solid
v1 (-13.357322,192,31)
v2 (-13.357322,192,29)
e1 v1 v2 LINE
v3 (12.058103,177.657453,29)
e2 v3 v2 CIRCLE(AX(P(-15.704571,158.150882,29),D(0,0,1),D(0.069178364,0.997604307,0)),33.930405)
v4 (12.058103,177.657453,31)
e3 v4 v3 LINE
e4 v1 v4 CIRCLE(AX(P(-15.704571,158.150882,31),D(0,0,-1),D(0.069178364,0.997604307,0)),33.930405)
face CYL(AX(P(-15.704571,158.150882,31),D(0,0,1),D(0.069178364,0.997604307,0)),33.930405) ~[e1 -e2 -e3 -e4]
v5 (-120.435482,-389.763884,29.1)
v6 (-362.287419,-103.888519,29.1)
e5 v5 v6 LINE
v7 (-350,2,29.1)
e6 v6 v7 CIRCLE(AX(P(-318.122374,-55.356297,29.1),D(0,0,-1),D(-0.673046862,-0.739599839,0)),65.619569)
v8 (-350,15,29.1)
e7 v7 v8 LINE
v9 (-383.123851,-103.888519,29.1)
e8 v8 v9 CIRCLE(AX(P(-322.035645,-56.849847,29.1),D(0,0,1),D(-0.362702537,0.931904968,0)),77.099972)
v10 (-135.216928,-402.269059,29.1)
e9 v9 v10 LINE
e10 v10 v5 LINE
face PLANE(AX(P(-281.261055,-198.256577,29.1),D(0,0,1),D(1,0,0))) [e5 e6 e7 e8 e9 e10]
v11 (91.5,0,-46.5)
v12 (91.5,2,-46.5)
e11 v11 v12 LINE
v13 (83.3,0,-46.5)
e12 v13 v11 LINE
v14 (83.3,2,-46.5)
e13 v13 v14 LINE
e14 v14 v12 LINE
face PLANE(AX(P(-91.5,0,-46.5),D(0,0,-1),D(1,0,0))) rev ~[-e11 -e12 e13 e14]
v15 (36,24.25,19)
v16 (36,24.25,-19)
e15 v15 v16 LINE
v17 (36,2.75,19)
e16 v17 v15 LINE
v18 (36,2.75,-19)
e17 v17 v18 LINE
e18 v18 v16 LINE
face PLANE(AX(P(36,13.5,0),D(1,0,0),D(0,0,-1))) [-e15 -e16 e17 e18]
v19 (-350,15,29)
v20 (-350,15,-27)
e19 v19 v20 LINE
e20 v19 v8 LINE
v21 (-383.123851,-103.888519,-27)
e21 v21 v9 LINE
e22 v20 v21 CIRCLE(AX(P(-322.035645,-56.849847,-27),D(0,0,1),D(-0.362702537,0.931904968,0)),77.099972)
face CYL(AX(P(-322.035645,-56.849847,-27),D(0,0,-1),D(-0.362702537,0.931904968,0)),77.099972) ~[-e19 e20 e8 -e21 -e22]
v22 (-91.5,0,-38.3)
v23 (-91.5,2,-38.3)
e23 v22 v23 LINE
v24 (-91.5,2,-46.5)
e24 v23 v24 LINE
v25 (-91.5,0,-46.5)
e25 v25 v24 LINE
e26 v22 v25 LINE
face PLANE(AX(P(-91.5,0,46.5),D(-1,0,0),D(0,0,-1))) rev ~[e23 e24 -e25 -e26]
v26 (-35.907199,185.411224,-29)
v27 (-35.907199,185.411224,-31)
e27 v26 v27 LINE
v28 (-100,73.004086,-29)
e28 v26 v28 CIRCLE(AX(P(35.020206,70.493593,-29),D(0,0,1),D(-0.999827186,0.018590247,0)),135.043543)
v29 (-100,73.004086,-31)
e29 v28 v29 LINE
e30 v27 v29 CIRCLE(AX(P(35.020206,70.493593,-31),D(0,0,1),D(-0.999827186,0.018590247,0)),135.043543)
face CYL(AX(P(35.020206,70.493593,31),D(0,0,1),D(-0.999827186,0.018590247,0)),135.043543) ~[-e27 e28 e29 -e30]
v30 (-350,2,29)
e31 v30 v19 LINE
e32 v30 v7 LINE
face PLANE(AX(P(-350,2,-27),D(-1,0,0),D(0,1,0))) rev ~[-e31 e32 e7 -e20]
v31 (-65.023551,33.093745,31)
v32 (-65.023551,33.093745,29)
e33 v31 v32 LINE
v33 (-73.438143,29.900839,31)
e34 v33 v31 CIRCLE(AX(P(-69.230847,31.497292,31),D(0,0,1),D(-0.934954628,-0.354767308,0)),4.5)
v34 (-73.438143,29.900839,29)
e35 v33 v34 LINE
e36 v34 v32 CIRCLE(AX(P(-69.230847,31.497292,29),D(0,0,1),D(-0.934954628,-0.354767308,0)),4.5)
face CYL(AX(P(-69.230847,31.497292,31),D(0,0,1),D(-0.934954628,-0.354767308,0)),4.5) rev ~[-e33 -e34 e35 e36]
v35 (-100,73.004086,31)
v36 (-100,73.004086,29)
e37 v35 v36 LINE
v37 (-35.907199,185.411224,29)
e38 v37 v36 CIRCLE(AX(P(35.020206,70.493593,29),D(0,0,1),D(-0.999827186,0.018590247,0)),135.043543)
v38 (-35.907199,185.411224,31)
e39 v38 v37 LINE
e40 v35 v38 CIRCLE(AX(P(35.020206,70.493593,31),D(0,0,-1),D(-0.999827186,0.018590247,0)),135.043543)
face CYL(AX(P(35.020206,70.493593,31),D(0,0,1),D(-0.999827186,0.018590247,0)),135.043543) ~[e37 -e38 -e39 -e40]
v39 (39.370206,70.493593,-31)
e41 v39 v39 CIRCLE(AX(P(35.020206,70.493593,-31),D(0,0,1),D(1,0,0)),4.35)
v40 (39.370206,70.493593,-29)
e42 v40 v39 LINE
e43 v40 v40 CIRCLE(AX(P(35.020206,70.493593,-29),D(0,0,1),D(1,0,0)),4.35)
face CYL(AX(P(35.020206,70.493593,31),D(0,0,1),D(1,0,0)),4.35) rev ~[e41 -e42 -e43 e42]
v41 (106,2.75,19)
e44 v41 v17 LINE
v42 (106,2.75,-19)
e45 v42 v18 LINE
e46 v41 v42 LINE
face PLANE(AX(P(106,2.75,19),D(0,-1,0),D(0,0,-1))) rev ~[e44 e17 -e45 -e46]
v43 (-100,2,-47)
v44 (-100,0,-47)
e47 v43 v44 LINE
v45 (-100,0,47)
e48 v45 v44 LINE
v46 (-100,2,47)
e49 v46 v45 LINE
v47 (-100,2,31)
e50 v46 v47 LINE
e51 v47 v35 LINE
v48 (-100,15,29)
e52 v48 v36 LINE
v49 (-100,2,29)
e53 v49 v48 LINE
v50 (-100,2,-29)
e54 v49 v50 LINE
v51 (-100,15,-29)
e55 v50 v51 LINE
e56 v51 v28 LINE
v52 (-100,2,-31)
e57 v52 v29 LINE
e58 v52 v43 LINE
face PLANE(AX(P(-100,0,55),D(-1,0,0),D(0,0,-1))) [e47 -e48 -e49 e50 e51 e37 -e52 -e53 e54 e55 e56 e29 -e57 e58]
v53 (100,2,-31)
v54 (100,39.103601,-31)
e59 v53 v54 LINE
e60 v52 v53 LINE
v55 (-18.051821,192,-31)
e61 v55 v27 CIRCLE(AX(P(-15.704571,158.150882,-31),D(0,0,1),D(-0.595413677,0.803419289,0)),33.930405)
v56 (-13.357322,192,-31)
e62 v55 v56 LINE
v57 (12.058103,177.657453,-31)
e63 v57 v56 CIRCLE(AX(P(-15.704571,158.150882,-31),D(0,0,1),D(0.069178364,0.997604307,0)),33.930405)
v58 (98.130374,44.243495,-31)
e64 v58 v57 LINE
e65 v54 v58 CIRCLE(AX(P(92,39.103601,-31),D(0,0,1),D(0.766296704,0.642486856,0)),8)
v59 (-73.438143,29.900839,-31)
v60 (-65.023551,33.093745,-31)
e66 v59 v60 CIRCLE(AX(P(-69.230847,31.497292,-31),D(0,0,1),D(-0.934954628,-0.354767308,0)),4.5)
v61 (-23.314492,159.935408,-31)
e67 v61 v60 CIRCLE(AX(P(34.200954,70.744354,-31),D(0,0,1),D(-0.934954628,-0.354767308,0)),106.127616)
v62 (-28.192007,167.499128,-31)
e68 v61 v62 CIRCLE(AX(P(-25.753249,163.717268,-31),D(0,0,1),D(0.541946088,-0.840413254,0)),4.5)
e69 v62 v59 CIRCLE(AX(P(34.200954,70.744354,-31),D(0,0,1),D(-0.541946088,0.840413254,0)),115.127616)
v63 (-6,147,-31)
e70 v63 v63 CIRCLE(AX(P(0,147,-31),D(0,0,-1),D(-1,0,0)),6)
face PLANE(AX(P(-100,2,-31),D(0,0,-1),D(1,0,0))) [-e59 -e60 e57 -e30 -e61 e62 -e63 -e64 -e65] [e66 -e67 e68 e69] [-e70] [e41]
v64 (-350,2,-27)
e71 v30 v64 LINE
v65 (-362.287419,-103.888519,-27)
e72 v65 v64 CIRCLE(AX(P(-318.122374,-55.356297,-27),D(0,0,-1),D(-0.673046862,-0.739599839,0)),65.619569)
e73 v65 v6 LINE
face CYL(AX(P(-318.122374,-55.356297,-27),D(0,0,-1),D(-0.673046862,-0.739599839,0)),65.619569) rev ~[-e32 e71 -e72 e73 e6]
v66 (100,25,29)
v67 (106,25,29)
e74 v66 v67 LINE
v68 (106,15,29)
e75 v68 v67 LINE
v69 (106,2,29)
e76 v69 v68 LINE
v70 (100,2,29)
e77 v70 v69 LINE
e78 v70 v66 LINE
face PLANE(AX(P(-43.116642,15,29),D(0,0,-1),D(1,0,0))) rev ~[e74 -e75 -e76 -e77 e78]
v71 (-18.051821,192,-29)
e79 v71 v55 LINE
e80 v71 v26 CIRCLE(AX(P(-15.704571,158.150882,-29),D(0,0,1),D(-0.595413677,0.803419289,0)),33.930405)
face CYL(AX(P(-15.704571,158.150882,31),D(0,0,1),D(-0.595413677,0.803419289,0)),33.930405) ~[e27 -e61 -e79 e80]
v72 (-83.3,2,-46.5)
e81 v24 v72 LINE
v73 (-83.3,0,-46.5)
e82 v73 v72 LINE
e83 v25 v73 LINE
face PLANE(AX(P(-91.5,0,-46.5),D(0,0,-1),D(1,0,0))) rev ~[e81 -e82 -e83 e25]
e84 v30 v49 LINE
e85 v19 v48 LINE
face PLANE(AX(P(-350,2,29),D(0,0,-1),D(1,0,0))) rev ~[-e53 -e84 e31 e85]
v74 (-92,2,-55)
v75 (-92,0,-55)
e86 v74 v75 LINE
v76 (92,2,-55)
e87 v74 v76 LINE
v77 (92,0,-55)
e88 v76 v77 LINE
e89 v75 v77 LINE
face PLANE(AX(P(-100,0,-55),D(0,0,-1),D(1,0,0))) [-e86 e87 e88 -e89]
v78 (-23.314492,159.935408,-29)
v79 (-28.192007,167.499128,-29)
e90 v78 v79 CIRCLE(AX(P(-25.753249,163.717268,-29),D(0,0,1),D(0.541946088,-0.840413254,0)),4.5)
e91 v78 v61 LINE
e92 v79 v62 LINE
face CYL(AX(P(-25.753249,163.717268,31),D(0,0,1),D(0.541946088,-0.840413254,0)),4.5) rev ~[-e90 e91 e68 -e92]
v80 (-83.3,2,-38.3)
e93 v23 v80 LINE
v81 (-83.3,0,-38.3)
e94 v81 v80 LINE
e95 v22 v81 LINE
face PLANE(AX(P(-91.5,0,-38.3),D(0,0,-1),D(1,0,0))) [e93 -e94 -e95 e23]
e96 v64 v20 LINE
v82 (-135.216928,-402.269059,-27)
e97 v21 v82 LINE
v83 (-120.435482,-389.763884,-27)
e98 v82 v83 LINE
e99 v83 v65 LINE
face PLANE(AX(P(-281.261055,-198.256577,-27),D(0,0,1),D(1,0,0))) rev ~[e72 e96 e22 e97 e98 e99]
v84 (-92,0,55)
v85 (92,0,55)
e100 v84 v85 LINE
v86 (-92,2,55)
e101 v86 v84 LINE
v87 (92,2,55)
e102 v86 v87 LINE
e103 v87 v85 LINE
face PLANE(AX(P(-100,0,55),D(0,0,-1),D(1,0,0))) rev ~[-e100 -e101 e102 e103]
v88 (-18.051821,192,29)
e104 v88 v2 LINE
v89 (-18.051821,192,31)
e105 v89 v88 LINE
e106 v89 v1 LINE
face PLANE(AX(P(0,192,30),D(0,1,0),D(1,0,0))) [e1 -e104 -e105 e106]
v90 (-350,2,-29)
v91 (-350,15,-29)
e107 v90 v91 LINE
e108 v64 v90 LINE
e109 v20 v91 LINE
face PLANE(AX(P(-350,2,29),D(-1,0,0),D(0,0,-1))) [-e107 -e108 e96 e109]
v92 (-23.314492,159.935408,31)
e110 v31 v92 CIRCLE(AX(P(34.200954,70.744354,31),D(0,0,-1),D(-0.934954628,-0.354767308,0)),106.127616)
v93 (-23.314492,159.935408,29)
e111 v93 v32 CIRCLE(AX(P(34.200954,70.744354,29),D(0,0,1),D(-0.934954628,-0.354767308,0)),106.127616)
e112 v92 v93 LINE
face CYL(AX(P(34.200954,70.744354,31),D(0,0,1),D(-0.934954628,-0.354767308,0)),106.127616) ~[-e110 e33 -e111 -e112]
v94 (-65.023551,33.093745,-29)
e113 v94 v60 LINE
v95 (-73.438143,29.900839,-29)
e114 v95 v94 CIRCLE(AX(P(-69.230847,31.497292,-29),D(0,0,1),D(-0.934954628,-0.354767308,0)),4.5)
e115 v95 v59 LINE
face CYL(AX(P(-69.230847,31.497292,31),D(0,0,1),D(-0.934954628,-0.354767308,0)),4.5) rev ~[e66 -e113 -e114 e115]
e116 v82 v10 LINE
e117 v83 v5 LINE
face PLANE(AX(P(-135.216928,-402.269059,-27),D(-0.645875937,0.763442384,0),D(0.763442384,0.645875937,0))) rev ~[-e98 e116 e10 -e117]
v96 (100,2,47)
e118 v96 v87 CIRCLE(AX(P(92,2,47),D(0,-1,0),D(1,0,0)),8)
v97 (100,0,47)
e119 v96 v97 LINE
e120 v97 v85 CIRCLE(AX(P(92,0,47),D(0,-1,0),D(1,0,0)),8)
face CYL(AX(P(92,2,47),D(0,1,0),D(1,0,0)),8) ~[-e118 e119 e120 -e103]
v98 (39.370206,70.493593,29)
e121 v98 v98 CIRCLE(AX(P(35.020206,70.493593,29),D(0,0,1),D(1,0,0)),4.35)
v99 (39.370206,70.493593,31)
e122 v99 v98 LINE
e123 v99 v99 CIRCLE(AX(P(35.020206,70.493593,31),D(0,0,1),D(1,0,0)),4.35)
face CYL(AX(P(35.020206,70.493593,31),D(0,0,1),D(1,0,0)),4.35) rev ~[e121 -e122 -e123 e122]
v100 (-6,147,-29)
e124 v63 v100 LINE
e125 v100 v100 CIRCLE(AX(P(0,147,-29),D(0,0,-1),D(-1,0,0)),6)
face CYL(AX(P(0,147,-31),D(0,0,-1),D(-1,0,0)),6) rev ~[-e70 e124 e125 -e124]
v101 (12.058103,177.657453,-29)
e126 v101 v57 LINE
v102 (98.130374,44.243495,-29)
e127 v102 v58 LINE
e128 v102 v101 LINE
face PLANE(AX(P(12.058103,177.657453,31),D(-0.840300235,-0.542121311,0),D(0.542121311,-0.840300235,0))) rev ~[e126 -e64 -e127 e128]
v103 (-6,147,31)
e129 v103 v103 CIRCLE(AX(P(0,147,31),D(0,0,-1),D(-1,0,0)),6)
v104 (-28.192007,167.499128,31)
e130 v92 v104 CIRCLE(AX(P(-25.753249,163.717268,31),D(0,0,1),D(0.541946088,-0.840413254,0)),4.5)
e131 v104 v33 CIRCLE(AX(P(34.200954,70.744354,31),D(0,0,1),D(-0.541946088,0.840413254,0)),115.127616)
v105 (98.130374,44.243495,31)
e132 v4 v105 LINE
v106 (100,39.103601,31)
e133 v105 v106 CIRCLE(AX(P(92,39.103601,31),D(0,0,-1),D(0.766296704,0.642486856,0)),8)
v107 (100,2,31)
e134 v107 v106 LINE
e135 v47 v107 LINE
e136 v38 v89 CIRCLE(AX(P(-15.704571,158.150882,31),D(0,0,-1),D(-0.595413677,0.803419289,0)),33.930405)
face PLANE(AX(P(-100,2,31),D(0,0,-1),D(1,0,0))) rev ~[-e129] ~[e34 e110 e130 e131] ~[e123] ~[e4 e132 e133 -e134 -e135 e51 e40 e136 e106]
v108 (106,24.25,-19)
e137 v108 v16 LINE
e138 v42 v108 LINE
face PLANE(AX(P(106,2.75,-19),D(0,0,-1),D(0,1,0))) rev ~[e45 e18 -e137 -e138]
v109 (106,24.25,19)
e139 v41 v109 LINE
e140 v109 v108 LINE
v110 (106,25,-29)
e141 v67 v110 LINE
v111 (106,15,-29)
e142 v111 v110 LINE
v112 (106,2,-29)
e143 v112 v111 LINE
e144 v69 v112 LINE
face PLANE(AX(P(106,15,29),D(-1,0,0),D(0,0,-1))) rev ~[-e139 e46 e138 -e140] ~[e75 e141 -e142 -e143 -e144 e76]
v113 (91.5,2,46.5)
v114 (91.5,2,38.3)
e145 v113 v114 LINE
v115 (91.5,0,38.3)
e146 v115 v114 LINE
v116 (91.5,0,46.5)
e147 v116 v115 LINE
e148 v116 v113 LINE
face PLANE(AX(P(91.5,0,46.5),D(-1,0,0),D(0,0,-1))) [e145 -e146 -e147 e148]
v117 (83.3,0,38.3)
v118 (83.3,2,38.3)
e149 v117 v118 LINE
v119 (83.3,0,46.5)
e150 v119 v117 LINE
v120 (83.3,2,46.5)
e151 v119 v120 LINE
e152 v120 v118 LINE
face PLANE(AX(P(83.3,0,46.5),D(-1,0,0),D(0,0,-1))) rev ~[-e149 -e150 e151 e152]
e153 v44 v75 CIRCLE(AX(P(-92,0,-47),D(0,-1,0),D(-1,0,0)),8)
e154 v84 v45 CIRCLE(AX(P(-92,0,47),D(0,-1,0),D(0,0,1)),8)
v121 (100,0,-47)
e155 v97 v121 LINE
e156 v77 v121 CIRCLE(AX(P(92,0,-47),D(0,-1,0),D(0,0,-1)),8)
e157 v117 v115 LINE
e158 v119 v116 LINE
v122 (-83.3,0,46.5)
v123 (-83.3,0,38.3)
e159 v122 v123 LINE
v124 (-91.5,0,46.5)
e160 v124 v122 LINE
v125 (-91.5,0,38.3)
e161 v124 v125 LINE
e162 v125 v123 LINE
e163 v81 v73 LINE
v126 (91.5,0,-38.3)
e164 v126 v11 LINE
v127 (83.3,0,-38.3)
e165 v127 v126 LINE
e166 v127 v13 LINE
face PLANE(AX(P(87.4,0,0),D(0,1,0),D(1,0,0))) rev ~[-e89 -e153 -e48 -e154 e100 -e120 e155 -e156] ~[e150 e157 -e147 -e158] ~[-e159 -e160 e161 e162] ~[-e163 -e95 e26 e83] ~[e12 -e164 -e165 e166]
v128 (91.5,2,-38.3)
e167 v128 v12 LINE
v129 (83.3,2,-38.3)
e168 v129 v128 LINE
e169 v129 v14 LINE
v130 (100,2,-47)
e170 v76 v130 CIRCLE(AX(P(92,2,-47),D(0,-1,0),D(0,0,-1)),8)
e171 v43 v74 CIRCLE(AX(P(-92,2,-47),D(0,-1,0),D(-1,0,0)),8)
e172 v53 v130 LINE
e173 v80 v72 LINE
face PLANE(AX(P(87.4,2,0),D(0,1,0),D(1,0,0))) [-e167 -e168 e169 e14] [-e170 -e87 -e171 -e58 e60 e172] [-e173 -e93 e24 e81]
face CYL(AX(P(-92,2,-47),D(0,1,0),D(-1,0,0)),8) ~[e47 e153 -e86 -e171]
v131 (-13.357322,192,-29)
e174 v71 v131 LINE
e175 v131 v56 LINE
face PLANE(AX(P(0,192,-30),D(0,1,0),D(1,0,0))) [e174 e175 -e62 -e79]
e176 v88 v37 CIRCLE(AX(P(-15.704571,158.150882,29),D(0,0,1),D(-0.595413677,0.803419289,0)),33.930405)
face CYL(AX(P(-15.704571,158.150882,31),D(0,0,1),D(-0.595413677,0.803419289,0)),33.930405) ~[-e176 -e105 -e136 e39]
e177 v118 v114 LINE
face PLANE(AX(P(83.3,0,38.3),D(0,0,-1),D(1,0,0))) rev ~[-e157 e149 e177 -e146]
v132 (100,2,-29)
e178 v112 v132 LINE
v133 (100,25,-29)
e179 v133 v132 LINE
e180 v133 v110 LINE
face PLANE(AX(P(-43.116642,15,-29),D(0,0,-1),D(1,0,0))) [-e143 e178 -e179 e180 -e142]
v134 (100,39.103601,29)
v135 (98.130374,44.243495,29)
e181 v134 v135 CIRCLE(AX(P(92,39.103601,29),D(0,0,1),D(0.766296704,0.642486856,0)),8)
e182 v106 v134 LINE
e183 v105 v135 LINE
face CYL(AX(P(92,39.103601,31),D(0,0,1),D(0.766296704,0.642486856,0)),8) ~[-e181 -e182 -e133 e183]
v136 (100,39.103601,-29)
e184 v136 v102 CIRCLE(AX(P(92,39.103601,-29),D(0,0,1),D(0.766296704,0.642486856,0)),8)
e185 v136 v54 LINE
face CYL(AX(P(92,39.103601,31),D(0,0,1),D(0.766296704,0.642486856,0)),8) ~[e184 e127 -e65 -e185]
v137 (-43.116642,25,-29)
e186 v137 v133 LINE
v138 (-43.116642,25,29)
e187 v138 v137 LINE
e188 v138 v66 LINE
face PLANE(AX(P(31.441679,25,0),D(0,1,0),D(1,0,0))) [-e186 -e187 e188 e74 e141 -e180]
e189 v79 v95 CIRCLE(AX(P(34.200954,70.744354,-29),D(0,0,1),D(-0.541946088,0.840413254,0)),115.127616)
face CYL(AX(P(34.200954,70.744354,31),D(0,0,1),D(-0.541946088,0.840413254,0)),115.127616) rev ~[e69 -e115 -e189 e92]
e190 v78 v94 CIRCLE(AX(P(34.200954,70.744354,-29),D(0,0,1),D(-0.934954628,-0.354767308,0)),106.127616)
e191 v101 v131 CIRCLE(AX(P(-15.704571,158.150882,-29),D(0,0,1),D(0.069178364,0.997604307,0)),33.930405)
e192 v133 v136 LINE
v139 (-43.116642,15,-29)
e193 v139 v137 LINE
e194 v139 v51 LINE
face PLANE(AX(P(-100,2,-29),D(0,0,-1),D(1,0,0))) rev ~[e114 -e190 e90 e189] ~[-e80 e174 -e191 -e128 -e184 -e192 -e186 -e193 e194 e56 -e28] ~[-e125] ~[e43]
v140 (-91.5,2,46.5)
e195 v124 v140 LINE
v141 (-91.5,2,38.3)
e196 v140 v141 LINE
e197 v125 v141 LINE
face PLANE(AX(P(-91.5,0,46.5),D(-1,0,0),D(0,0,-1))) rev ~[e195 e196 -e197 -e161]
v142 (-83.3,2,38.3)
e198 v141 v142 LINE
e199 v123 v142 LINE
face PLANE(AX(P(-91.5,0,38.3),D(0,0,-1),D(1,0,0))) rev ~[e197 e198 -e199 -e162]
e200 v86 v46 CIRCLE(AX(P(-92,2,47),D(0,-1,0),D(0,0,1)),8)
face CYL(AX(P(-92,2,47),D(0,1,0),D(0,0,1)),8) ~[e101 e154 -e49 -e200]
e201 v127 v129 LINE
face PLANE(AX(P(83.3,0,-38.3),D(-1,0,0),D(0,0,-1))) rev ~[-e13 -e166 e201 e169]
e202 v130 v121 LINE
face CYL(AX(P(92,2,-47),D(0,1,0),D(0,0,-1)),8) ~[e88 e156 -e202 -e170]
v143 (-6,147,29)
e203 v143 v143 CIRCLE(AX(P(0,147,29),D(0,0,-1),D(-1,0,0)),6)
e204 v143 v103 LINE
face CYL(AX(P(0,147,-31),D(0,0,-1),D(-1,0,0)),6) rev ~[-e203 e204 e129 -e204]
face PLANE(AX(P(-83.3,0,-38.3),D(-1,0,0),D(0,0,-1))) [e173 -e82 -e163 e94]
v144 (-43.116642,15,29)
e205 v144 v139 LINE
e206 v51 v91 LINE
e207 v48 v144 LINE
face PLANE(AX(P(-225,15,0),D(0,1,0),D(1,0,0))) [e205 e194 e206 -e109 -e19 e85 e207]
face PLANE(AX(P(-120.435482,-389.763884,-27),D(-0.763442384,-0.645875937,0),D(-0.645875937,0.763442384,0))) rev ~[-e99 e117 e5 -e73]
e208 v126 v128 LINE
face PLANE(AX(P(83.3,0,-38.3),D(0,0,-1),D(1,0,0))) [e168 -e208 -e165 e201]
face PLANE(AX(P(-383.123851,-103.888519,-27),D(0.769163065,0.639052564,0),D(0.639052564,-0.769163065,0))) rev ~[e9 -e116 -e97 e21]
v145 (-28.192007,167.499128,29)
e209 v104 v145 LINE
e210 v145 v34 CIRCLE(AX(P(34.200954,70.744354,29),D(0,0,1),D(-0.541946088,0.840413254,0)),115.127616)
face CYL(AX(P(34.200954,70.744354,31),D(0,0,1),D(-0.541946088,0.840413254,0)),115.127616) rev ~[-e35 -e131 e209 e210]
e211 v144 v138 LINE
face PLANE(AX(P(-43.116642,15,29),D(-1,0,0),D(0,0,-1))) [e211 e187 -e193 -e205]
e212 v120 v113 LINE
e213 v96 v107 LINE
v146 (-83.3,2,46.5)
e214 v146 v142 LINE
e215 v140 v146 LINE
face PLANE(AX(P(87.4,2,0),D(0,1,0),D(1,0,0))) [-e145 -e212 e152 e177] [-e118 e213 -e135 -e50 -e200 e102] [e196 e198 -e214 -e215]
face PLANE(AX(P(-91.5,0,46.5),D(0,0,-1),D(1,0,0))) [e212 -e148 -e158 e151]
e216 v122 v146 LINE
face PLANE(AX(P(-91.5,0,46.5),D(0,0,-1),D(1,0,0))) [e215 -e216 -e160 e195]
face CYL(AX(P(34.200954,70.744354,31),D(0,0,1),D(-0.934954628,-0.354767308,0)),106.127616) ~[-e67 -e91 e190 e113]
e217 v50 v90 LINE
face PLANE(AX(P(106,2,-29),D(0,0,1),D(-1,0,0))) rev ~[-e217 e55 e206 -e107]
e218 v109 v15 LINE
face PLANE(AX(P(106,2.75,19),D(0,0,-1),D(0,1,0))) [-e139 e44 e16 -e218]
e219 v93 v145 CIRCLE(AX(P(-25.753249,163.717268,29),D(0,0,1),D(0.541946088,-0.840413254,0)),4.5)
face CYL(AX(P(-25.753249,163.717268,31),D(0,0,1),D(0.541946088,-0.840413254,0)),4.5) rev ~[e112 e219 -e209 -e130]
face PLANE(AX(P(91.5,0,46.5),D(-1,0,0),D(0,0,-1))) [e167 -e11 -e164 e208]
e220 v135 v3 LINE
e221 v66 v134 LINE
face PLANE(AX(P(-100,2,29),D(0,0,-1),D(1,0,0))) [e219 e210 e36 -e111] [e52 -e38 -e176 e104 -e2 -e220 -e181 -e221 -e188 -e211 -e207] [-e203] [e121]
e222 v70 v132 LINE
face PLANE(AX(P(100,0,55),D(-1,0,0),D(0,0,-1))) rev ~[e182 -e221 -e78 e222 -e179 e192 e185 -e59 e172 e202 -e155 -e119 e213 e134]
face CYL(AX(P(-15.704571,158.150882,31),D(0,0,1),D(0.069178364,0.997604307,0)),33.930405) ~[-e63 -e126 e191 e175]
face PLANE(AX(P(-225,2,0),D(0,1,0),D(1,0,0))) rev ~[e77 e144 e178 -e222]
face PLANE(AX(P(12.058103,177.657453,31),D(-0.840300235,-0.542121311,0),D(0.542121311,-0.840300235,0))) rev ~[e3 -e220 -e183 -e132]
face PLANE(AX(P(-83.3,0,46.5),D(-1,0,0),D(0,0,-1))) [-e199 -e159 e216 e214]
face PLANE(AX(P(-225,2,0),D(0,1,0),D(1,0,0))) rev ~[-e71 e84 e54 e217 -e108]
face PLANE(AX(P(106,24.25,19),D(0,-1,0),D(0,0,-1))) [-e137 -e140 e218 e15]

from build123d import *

# Parameters (mm, degrees)
CROQUIS1_W                   = 200
CROQUIS1_H                   = 110
CROQUIS1_W_2                 = 183
CROQUIS1_H_2                 = 93
CROQUIS1_W_3                 = 166.6
CROQUIS1_H_3                 = 8.2
CROQUIS1_H_4                 = 76.6
CROQUIS1_W_4                 = 8.2
SALIENTE_EXTRUIR1_DEPTH      = 2
CORTAR_EXTRUIR1_DEPTH        = 2
CROQUIS3_W                   = 200
CROQUIS3_H                   = 2
SALIENTE_EXTRUIR2_DEPTH      = 190
CROQUIS4_R                   = 4.35
CORTAR_EXTRUIR2_DEPTH        = 81
CROQUIS5_W                   = 250
CROQUIS5_H                   = 58
CROQUIS5_W_2                 = 200
CROQUIS5_W_3                 = 6
SALIENTE_EXTRUIR3_DEPTH      = 13
SALIENTE_EXTRUIR4_DEPTH      = 0.1
SALIENTE_EXTRUIR4_DEPTH_BACK = 56
CROQUIS7_R                   = 6
CORTAR_EXTRUIR3_DEPTH        = 80.1
CROQUIS10_W                  = 149.116642103
CROQUIS10_H                  = 58
SALIENTE_EXTRUIR5_DEPTH      = 10
CROQUIS11_W                  = 38
CROQUIS11_H                  = 21.5
CORTAR_EXTRUIR4_DEPTH        = 70


with BuildPart() as part:
    # Croquis1 → Saliente-Extruir1 (new body)
    # profile 1 of 6: a face of its own
    with BuildSketch(Plane(origin=(0, 0, 0), x_dir=(1, 0, 0), z_dir=(0, 1, 0))):
        Rectangle(CROQUIS1_W, CROQUIS1_H)
        Rectangle(CROQUIS1_W_2, CROQUIS1_H_2, mode=Mode.SUBTRACT)
    # profile 2 of 6: a face of its own
    with BuildSketch(Plane(origin=(0, 0, 0), x_dir=(1, 0, 0), z_dir=(0, 1, 0))):
        with Locations((0, 42.4)):
            Rectangle(CROQUIS1_W_3, CROQUIS1_H_3)
    # profile 3 of 6: a face of its own
    with BuildSketch(Plane(origin=(0, 0, 0), x_dir=(1, 0, 0), z_dir=(0, 1, 0))):
        Rectangle(CROQUIS1_W_3, CROQUIS1_H_4)
    # profile 4 of 6: a face of its own
    with BuildSketch(Plane(origin=(0, 0, 0), x_dir=(1, 0, 0), z_dir=(0, 1, 0))):
        with Locations((-87.4, 0)):
            Rectangle(CROQUIS1_W_4, CROQUIS1_H_4)
    # profile 5 of 6: a face of its own
    with BuildSketch(Plane(origin=(0, 0, 0), x_dir=(1, 0, 0), z_dir=(0, 1, 0))):
        with Locations((0, -42.4)):
            Rectangle(CROQUIS1_W_3, CROQUIS1_H_3)
    # profile 6 of 6: a face of its own
    with BuildSketch(Plane(origin=(0, 0, 0), x_dir=(1, 0, 0), z_dir=(0, 1, 0))):
        with Locations((87.4, 0)):
            Rectangle(CROQUIS1_W_4, CROQUIS1_H_4)
    extrude(amount=SALIENTE_EXTRUIR1_DEPTH)

    # Croquis2 → Cortar-Extruir1 (cut)
    with BuildSketch(Plane(origin=(0, 2, 0), x_dir=(1, 0, 0), z_dir=(0, 1, 0))):
        with BuildLine():
            ThreePointArc((-100, 47), (-97.656854249, 52.656854249), (-92, 55))
            Line((-92, 55), (-100, 55))
            Line((-100, 55), (-100, 47))
        make_face()
        with BuildLine():
            ThreePointArc((-92, -55), (-97.656854249, -52.656854249), (-100, -47))
            Line((-100, -47), (-100, -55))
            Line((-100, -55), (-92, -55))
        make_face()
        with BuildLine():
            Line((100, -55), (100, -47))
            ThreePointArc((100, -47), (97.656854249, -52.656854249), (92, -55))
            Line((92, -55), (100, -55))
        make_face()
        with BuildLine():
            Line((100, 55), (92, 55))
            ThreePointArc((92, 55), (97.656854249, 52.656854249), (100, 47))
            Line((100, 47), (100, 55))
        make_face()
    extrude(amount=-CORTAR_EXTRUIR1_DEPTH, mode=Mode.SUBTRACT)

    # Croquis3 → Saliente-Extruir2 (add)
    with BuildSketch(Plane(origin=(0, 2, 0), x_dir=(1, 0, 0), z_dir=(0, 1, 0))):
        with Locations((0, -30)):
            Rectangle(CROQUIS3_W, CROQUIS3_H)
        with Locations((0, 30)):
            Rectangle(CROQUIS3_W, CROQUIS3_H)
    extrude(amount=SALIENTE_EXTRUIR2_DEPTH)

    # Croquis4 → Cortar-Extruir2 (cut)
    with BuildSketch(Plane.XY.offset(31)):
        with BuildLine():
            ThreePointArc((-35.907198592, 185.411223689), (-27.45094246, 189.983179116), (-18.051821346, 192))
            Line((-18.051821346, 192), (-100, 192))
            Line((-100, 192), (-100, 73.004085605))
            ThreePointArc((-100, 73.004085605), (-82.293244846, 137.383897456), (-35.907198592, 185.411223689))
        make_face()
        with BuildLine():
            Line((12.058102776, 177.657452596), (98.130373638, 44.243495367))
            ThreePointArc((98.130373638, 44.243495367), (99.51807785, 41.83828614), (100, 39.103600519))
            Line((100, 39.103600519), (100, 192))
            Line((100, 192), (-13.35732151, 192))
            ThreePointArc((-13.35732151, 192), (0.971130931, 187.700726729), (12.058102776, 177.657452596))
        make_face()
        with Locations((35.02020603, 70.493592822)):
            Circle(CROQUIS4_R)
        with BuildLine():
            ThreePointArc((-28.192006816, 167.49912775), (-75.165619507, 106.707118451), (-73.438142939, 29.900839356))
            ThreePointArc((-73.438142939, 29.900839356), (-67.634394225, 27.289996416), (-65.023551285, 33.093745131))
            ThreePointArc((-65.023551285, 33.093745131), (-66.615983893, 103.895760975), (-23.31449202, 159.935408465))
            ThreePointArc((-23.31449202, 159.935408465), (-21.971389776, 166.156025506), (-28.192006816, 167.49912775))
        make_face()
    extrude(amount=-CORTAR_EXTRUIR2_DEPTH, mode=Mode.SUBTRACT)

    # Croquis5 → Saliente-Extruir3 (add)
    with BuildSketch(Plane(origin=(0, 2, 0), x_dir=(1, 0, 0), z_dir=(0, 1, 0))):
        with Locations((-225, 0)):
            Rectangle(CROQUIS5_W, CROQUIS5_H)
        Rectangle(CROQUIS5_W_2, CROQUIS5_H)
        with Locations((103, 0)):
            Rectangle(CROQUIS5_W_3, CROQUIS5_H)
    extrude(amount=SALIENTE_EXTRUIR3_DEPTH)

    # Croquis6 → Saliente-Extruir4 (add, two sides: drawn at the far end of the back side and taken through both)
    with BuildSketch(Plane.XY.offset(29).offset(-SALIENTE_EXTRUIR4_DEPTH_BACK)):
        with BuildLine():
            Line((-383.123851027, -103.888519267), (-135.216927507, -402.269059015))
            Line((-135.216927507, -402.269059015), (-120.435481517, -389.763884447))
            Line((-120.435481517, -389.763884447), (-362.287418648, -103.888519267))
            ThreePointArc((-362.287418648, -103.888519267), (-383.304553722, -47.792485784), (-350, 2))
            Line((-350, 2), (-350, 15))
            ThreePointArc((-350, 15), (-396.30683482, -36.156950221), (-383.123851027, -103.888519267))
        make_face()
    extrude(amount=SALIENTE_EXTRUIR4_DEPTH + SALIENTE_EXTRUIR4_DEPTH_BACK)

    # Croquis7 → Cortar-Extruir3 (cut)
    with BuildSketch(Plane(origin=(0, 0, -31), x_dir=(-1, 0, 0), z_dir=(0, 0, -1))):
        with Locations((0, 147)):
            Circle(CROQUIS7_R)
    extrude(amount=-CORTAR_EXTRUIR3_DEPTH, mode=Mode.SUBTRACT)

    # Croquis10 → Saliente-Extruir5 (add)
    with BuildSketch(Plane(origin=(0, 15, 0), x_dir=(1, 0, 0), z_dir=(0, 1, 0))):
        with Locations((31.441678948, 0)):
            Rectangle(CROQUIS10_W, CROQUIS10_H)
    extrude(amount=SALIENTE_EXTRUIR5_DEPTH)

    # Croquis11 → Cortar-Extruir4 (cut)
    with BuildSketch(Plane(origin=(106, 0, 0), x_dir=(0, 0, -1), z_dir=(1, 0, 0))):
        with Locations((0, 13.5)):
            Rectangle(CROQUIS11_W, CROQUIS11_H)
    extrude(amount=-CORTAR_EXTRUIR4_DEPTH, mode=Mode.SUBTRACT)


solid = part.part
